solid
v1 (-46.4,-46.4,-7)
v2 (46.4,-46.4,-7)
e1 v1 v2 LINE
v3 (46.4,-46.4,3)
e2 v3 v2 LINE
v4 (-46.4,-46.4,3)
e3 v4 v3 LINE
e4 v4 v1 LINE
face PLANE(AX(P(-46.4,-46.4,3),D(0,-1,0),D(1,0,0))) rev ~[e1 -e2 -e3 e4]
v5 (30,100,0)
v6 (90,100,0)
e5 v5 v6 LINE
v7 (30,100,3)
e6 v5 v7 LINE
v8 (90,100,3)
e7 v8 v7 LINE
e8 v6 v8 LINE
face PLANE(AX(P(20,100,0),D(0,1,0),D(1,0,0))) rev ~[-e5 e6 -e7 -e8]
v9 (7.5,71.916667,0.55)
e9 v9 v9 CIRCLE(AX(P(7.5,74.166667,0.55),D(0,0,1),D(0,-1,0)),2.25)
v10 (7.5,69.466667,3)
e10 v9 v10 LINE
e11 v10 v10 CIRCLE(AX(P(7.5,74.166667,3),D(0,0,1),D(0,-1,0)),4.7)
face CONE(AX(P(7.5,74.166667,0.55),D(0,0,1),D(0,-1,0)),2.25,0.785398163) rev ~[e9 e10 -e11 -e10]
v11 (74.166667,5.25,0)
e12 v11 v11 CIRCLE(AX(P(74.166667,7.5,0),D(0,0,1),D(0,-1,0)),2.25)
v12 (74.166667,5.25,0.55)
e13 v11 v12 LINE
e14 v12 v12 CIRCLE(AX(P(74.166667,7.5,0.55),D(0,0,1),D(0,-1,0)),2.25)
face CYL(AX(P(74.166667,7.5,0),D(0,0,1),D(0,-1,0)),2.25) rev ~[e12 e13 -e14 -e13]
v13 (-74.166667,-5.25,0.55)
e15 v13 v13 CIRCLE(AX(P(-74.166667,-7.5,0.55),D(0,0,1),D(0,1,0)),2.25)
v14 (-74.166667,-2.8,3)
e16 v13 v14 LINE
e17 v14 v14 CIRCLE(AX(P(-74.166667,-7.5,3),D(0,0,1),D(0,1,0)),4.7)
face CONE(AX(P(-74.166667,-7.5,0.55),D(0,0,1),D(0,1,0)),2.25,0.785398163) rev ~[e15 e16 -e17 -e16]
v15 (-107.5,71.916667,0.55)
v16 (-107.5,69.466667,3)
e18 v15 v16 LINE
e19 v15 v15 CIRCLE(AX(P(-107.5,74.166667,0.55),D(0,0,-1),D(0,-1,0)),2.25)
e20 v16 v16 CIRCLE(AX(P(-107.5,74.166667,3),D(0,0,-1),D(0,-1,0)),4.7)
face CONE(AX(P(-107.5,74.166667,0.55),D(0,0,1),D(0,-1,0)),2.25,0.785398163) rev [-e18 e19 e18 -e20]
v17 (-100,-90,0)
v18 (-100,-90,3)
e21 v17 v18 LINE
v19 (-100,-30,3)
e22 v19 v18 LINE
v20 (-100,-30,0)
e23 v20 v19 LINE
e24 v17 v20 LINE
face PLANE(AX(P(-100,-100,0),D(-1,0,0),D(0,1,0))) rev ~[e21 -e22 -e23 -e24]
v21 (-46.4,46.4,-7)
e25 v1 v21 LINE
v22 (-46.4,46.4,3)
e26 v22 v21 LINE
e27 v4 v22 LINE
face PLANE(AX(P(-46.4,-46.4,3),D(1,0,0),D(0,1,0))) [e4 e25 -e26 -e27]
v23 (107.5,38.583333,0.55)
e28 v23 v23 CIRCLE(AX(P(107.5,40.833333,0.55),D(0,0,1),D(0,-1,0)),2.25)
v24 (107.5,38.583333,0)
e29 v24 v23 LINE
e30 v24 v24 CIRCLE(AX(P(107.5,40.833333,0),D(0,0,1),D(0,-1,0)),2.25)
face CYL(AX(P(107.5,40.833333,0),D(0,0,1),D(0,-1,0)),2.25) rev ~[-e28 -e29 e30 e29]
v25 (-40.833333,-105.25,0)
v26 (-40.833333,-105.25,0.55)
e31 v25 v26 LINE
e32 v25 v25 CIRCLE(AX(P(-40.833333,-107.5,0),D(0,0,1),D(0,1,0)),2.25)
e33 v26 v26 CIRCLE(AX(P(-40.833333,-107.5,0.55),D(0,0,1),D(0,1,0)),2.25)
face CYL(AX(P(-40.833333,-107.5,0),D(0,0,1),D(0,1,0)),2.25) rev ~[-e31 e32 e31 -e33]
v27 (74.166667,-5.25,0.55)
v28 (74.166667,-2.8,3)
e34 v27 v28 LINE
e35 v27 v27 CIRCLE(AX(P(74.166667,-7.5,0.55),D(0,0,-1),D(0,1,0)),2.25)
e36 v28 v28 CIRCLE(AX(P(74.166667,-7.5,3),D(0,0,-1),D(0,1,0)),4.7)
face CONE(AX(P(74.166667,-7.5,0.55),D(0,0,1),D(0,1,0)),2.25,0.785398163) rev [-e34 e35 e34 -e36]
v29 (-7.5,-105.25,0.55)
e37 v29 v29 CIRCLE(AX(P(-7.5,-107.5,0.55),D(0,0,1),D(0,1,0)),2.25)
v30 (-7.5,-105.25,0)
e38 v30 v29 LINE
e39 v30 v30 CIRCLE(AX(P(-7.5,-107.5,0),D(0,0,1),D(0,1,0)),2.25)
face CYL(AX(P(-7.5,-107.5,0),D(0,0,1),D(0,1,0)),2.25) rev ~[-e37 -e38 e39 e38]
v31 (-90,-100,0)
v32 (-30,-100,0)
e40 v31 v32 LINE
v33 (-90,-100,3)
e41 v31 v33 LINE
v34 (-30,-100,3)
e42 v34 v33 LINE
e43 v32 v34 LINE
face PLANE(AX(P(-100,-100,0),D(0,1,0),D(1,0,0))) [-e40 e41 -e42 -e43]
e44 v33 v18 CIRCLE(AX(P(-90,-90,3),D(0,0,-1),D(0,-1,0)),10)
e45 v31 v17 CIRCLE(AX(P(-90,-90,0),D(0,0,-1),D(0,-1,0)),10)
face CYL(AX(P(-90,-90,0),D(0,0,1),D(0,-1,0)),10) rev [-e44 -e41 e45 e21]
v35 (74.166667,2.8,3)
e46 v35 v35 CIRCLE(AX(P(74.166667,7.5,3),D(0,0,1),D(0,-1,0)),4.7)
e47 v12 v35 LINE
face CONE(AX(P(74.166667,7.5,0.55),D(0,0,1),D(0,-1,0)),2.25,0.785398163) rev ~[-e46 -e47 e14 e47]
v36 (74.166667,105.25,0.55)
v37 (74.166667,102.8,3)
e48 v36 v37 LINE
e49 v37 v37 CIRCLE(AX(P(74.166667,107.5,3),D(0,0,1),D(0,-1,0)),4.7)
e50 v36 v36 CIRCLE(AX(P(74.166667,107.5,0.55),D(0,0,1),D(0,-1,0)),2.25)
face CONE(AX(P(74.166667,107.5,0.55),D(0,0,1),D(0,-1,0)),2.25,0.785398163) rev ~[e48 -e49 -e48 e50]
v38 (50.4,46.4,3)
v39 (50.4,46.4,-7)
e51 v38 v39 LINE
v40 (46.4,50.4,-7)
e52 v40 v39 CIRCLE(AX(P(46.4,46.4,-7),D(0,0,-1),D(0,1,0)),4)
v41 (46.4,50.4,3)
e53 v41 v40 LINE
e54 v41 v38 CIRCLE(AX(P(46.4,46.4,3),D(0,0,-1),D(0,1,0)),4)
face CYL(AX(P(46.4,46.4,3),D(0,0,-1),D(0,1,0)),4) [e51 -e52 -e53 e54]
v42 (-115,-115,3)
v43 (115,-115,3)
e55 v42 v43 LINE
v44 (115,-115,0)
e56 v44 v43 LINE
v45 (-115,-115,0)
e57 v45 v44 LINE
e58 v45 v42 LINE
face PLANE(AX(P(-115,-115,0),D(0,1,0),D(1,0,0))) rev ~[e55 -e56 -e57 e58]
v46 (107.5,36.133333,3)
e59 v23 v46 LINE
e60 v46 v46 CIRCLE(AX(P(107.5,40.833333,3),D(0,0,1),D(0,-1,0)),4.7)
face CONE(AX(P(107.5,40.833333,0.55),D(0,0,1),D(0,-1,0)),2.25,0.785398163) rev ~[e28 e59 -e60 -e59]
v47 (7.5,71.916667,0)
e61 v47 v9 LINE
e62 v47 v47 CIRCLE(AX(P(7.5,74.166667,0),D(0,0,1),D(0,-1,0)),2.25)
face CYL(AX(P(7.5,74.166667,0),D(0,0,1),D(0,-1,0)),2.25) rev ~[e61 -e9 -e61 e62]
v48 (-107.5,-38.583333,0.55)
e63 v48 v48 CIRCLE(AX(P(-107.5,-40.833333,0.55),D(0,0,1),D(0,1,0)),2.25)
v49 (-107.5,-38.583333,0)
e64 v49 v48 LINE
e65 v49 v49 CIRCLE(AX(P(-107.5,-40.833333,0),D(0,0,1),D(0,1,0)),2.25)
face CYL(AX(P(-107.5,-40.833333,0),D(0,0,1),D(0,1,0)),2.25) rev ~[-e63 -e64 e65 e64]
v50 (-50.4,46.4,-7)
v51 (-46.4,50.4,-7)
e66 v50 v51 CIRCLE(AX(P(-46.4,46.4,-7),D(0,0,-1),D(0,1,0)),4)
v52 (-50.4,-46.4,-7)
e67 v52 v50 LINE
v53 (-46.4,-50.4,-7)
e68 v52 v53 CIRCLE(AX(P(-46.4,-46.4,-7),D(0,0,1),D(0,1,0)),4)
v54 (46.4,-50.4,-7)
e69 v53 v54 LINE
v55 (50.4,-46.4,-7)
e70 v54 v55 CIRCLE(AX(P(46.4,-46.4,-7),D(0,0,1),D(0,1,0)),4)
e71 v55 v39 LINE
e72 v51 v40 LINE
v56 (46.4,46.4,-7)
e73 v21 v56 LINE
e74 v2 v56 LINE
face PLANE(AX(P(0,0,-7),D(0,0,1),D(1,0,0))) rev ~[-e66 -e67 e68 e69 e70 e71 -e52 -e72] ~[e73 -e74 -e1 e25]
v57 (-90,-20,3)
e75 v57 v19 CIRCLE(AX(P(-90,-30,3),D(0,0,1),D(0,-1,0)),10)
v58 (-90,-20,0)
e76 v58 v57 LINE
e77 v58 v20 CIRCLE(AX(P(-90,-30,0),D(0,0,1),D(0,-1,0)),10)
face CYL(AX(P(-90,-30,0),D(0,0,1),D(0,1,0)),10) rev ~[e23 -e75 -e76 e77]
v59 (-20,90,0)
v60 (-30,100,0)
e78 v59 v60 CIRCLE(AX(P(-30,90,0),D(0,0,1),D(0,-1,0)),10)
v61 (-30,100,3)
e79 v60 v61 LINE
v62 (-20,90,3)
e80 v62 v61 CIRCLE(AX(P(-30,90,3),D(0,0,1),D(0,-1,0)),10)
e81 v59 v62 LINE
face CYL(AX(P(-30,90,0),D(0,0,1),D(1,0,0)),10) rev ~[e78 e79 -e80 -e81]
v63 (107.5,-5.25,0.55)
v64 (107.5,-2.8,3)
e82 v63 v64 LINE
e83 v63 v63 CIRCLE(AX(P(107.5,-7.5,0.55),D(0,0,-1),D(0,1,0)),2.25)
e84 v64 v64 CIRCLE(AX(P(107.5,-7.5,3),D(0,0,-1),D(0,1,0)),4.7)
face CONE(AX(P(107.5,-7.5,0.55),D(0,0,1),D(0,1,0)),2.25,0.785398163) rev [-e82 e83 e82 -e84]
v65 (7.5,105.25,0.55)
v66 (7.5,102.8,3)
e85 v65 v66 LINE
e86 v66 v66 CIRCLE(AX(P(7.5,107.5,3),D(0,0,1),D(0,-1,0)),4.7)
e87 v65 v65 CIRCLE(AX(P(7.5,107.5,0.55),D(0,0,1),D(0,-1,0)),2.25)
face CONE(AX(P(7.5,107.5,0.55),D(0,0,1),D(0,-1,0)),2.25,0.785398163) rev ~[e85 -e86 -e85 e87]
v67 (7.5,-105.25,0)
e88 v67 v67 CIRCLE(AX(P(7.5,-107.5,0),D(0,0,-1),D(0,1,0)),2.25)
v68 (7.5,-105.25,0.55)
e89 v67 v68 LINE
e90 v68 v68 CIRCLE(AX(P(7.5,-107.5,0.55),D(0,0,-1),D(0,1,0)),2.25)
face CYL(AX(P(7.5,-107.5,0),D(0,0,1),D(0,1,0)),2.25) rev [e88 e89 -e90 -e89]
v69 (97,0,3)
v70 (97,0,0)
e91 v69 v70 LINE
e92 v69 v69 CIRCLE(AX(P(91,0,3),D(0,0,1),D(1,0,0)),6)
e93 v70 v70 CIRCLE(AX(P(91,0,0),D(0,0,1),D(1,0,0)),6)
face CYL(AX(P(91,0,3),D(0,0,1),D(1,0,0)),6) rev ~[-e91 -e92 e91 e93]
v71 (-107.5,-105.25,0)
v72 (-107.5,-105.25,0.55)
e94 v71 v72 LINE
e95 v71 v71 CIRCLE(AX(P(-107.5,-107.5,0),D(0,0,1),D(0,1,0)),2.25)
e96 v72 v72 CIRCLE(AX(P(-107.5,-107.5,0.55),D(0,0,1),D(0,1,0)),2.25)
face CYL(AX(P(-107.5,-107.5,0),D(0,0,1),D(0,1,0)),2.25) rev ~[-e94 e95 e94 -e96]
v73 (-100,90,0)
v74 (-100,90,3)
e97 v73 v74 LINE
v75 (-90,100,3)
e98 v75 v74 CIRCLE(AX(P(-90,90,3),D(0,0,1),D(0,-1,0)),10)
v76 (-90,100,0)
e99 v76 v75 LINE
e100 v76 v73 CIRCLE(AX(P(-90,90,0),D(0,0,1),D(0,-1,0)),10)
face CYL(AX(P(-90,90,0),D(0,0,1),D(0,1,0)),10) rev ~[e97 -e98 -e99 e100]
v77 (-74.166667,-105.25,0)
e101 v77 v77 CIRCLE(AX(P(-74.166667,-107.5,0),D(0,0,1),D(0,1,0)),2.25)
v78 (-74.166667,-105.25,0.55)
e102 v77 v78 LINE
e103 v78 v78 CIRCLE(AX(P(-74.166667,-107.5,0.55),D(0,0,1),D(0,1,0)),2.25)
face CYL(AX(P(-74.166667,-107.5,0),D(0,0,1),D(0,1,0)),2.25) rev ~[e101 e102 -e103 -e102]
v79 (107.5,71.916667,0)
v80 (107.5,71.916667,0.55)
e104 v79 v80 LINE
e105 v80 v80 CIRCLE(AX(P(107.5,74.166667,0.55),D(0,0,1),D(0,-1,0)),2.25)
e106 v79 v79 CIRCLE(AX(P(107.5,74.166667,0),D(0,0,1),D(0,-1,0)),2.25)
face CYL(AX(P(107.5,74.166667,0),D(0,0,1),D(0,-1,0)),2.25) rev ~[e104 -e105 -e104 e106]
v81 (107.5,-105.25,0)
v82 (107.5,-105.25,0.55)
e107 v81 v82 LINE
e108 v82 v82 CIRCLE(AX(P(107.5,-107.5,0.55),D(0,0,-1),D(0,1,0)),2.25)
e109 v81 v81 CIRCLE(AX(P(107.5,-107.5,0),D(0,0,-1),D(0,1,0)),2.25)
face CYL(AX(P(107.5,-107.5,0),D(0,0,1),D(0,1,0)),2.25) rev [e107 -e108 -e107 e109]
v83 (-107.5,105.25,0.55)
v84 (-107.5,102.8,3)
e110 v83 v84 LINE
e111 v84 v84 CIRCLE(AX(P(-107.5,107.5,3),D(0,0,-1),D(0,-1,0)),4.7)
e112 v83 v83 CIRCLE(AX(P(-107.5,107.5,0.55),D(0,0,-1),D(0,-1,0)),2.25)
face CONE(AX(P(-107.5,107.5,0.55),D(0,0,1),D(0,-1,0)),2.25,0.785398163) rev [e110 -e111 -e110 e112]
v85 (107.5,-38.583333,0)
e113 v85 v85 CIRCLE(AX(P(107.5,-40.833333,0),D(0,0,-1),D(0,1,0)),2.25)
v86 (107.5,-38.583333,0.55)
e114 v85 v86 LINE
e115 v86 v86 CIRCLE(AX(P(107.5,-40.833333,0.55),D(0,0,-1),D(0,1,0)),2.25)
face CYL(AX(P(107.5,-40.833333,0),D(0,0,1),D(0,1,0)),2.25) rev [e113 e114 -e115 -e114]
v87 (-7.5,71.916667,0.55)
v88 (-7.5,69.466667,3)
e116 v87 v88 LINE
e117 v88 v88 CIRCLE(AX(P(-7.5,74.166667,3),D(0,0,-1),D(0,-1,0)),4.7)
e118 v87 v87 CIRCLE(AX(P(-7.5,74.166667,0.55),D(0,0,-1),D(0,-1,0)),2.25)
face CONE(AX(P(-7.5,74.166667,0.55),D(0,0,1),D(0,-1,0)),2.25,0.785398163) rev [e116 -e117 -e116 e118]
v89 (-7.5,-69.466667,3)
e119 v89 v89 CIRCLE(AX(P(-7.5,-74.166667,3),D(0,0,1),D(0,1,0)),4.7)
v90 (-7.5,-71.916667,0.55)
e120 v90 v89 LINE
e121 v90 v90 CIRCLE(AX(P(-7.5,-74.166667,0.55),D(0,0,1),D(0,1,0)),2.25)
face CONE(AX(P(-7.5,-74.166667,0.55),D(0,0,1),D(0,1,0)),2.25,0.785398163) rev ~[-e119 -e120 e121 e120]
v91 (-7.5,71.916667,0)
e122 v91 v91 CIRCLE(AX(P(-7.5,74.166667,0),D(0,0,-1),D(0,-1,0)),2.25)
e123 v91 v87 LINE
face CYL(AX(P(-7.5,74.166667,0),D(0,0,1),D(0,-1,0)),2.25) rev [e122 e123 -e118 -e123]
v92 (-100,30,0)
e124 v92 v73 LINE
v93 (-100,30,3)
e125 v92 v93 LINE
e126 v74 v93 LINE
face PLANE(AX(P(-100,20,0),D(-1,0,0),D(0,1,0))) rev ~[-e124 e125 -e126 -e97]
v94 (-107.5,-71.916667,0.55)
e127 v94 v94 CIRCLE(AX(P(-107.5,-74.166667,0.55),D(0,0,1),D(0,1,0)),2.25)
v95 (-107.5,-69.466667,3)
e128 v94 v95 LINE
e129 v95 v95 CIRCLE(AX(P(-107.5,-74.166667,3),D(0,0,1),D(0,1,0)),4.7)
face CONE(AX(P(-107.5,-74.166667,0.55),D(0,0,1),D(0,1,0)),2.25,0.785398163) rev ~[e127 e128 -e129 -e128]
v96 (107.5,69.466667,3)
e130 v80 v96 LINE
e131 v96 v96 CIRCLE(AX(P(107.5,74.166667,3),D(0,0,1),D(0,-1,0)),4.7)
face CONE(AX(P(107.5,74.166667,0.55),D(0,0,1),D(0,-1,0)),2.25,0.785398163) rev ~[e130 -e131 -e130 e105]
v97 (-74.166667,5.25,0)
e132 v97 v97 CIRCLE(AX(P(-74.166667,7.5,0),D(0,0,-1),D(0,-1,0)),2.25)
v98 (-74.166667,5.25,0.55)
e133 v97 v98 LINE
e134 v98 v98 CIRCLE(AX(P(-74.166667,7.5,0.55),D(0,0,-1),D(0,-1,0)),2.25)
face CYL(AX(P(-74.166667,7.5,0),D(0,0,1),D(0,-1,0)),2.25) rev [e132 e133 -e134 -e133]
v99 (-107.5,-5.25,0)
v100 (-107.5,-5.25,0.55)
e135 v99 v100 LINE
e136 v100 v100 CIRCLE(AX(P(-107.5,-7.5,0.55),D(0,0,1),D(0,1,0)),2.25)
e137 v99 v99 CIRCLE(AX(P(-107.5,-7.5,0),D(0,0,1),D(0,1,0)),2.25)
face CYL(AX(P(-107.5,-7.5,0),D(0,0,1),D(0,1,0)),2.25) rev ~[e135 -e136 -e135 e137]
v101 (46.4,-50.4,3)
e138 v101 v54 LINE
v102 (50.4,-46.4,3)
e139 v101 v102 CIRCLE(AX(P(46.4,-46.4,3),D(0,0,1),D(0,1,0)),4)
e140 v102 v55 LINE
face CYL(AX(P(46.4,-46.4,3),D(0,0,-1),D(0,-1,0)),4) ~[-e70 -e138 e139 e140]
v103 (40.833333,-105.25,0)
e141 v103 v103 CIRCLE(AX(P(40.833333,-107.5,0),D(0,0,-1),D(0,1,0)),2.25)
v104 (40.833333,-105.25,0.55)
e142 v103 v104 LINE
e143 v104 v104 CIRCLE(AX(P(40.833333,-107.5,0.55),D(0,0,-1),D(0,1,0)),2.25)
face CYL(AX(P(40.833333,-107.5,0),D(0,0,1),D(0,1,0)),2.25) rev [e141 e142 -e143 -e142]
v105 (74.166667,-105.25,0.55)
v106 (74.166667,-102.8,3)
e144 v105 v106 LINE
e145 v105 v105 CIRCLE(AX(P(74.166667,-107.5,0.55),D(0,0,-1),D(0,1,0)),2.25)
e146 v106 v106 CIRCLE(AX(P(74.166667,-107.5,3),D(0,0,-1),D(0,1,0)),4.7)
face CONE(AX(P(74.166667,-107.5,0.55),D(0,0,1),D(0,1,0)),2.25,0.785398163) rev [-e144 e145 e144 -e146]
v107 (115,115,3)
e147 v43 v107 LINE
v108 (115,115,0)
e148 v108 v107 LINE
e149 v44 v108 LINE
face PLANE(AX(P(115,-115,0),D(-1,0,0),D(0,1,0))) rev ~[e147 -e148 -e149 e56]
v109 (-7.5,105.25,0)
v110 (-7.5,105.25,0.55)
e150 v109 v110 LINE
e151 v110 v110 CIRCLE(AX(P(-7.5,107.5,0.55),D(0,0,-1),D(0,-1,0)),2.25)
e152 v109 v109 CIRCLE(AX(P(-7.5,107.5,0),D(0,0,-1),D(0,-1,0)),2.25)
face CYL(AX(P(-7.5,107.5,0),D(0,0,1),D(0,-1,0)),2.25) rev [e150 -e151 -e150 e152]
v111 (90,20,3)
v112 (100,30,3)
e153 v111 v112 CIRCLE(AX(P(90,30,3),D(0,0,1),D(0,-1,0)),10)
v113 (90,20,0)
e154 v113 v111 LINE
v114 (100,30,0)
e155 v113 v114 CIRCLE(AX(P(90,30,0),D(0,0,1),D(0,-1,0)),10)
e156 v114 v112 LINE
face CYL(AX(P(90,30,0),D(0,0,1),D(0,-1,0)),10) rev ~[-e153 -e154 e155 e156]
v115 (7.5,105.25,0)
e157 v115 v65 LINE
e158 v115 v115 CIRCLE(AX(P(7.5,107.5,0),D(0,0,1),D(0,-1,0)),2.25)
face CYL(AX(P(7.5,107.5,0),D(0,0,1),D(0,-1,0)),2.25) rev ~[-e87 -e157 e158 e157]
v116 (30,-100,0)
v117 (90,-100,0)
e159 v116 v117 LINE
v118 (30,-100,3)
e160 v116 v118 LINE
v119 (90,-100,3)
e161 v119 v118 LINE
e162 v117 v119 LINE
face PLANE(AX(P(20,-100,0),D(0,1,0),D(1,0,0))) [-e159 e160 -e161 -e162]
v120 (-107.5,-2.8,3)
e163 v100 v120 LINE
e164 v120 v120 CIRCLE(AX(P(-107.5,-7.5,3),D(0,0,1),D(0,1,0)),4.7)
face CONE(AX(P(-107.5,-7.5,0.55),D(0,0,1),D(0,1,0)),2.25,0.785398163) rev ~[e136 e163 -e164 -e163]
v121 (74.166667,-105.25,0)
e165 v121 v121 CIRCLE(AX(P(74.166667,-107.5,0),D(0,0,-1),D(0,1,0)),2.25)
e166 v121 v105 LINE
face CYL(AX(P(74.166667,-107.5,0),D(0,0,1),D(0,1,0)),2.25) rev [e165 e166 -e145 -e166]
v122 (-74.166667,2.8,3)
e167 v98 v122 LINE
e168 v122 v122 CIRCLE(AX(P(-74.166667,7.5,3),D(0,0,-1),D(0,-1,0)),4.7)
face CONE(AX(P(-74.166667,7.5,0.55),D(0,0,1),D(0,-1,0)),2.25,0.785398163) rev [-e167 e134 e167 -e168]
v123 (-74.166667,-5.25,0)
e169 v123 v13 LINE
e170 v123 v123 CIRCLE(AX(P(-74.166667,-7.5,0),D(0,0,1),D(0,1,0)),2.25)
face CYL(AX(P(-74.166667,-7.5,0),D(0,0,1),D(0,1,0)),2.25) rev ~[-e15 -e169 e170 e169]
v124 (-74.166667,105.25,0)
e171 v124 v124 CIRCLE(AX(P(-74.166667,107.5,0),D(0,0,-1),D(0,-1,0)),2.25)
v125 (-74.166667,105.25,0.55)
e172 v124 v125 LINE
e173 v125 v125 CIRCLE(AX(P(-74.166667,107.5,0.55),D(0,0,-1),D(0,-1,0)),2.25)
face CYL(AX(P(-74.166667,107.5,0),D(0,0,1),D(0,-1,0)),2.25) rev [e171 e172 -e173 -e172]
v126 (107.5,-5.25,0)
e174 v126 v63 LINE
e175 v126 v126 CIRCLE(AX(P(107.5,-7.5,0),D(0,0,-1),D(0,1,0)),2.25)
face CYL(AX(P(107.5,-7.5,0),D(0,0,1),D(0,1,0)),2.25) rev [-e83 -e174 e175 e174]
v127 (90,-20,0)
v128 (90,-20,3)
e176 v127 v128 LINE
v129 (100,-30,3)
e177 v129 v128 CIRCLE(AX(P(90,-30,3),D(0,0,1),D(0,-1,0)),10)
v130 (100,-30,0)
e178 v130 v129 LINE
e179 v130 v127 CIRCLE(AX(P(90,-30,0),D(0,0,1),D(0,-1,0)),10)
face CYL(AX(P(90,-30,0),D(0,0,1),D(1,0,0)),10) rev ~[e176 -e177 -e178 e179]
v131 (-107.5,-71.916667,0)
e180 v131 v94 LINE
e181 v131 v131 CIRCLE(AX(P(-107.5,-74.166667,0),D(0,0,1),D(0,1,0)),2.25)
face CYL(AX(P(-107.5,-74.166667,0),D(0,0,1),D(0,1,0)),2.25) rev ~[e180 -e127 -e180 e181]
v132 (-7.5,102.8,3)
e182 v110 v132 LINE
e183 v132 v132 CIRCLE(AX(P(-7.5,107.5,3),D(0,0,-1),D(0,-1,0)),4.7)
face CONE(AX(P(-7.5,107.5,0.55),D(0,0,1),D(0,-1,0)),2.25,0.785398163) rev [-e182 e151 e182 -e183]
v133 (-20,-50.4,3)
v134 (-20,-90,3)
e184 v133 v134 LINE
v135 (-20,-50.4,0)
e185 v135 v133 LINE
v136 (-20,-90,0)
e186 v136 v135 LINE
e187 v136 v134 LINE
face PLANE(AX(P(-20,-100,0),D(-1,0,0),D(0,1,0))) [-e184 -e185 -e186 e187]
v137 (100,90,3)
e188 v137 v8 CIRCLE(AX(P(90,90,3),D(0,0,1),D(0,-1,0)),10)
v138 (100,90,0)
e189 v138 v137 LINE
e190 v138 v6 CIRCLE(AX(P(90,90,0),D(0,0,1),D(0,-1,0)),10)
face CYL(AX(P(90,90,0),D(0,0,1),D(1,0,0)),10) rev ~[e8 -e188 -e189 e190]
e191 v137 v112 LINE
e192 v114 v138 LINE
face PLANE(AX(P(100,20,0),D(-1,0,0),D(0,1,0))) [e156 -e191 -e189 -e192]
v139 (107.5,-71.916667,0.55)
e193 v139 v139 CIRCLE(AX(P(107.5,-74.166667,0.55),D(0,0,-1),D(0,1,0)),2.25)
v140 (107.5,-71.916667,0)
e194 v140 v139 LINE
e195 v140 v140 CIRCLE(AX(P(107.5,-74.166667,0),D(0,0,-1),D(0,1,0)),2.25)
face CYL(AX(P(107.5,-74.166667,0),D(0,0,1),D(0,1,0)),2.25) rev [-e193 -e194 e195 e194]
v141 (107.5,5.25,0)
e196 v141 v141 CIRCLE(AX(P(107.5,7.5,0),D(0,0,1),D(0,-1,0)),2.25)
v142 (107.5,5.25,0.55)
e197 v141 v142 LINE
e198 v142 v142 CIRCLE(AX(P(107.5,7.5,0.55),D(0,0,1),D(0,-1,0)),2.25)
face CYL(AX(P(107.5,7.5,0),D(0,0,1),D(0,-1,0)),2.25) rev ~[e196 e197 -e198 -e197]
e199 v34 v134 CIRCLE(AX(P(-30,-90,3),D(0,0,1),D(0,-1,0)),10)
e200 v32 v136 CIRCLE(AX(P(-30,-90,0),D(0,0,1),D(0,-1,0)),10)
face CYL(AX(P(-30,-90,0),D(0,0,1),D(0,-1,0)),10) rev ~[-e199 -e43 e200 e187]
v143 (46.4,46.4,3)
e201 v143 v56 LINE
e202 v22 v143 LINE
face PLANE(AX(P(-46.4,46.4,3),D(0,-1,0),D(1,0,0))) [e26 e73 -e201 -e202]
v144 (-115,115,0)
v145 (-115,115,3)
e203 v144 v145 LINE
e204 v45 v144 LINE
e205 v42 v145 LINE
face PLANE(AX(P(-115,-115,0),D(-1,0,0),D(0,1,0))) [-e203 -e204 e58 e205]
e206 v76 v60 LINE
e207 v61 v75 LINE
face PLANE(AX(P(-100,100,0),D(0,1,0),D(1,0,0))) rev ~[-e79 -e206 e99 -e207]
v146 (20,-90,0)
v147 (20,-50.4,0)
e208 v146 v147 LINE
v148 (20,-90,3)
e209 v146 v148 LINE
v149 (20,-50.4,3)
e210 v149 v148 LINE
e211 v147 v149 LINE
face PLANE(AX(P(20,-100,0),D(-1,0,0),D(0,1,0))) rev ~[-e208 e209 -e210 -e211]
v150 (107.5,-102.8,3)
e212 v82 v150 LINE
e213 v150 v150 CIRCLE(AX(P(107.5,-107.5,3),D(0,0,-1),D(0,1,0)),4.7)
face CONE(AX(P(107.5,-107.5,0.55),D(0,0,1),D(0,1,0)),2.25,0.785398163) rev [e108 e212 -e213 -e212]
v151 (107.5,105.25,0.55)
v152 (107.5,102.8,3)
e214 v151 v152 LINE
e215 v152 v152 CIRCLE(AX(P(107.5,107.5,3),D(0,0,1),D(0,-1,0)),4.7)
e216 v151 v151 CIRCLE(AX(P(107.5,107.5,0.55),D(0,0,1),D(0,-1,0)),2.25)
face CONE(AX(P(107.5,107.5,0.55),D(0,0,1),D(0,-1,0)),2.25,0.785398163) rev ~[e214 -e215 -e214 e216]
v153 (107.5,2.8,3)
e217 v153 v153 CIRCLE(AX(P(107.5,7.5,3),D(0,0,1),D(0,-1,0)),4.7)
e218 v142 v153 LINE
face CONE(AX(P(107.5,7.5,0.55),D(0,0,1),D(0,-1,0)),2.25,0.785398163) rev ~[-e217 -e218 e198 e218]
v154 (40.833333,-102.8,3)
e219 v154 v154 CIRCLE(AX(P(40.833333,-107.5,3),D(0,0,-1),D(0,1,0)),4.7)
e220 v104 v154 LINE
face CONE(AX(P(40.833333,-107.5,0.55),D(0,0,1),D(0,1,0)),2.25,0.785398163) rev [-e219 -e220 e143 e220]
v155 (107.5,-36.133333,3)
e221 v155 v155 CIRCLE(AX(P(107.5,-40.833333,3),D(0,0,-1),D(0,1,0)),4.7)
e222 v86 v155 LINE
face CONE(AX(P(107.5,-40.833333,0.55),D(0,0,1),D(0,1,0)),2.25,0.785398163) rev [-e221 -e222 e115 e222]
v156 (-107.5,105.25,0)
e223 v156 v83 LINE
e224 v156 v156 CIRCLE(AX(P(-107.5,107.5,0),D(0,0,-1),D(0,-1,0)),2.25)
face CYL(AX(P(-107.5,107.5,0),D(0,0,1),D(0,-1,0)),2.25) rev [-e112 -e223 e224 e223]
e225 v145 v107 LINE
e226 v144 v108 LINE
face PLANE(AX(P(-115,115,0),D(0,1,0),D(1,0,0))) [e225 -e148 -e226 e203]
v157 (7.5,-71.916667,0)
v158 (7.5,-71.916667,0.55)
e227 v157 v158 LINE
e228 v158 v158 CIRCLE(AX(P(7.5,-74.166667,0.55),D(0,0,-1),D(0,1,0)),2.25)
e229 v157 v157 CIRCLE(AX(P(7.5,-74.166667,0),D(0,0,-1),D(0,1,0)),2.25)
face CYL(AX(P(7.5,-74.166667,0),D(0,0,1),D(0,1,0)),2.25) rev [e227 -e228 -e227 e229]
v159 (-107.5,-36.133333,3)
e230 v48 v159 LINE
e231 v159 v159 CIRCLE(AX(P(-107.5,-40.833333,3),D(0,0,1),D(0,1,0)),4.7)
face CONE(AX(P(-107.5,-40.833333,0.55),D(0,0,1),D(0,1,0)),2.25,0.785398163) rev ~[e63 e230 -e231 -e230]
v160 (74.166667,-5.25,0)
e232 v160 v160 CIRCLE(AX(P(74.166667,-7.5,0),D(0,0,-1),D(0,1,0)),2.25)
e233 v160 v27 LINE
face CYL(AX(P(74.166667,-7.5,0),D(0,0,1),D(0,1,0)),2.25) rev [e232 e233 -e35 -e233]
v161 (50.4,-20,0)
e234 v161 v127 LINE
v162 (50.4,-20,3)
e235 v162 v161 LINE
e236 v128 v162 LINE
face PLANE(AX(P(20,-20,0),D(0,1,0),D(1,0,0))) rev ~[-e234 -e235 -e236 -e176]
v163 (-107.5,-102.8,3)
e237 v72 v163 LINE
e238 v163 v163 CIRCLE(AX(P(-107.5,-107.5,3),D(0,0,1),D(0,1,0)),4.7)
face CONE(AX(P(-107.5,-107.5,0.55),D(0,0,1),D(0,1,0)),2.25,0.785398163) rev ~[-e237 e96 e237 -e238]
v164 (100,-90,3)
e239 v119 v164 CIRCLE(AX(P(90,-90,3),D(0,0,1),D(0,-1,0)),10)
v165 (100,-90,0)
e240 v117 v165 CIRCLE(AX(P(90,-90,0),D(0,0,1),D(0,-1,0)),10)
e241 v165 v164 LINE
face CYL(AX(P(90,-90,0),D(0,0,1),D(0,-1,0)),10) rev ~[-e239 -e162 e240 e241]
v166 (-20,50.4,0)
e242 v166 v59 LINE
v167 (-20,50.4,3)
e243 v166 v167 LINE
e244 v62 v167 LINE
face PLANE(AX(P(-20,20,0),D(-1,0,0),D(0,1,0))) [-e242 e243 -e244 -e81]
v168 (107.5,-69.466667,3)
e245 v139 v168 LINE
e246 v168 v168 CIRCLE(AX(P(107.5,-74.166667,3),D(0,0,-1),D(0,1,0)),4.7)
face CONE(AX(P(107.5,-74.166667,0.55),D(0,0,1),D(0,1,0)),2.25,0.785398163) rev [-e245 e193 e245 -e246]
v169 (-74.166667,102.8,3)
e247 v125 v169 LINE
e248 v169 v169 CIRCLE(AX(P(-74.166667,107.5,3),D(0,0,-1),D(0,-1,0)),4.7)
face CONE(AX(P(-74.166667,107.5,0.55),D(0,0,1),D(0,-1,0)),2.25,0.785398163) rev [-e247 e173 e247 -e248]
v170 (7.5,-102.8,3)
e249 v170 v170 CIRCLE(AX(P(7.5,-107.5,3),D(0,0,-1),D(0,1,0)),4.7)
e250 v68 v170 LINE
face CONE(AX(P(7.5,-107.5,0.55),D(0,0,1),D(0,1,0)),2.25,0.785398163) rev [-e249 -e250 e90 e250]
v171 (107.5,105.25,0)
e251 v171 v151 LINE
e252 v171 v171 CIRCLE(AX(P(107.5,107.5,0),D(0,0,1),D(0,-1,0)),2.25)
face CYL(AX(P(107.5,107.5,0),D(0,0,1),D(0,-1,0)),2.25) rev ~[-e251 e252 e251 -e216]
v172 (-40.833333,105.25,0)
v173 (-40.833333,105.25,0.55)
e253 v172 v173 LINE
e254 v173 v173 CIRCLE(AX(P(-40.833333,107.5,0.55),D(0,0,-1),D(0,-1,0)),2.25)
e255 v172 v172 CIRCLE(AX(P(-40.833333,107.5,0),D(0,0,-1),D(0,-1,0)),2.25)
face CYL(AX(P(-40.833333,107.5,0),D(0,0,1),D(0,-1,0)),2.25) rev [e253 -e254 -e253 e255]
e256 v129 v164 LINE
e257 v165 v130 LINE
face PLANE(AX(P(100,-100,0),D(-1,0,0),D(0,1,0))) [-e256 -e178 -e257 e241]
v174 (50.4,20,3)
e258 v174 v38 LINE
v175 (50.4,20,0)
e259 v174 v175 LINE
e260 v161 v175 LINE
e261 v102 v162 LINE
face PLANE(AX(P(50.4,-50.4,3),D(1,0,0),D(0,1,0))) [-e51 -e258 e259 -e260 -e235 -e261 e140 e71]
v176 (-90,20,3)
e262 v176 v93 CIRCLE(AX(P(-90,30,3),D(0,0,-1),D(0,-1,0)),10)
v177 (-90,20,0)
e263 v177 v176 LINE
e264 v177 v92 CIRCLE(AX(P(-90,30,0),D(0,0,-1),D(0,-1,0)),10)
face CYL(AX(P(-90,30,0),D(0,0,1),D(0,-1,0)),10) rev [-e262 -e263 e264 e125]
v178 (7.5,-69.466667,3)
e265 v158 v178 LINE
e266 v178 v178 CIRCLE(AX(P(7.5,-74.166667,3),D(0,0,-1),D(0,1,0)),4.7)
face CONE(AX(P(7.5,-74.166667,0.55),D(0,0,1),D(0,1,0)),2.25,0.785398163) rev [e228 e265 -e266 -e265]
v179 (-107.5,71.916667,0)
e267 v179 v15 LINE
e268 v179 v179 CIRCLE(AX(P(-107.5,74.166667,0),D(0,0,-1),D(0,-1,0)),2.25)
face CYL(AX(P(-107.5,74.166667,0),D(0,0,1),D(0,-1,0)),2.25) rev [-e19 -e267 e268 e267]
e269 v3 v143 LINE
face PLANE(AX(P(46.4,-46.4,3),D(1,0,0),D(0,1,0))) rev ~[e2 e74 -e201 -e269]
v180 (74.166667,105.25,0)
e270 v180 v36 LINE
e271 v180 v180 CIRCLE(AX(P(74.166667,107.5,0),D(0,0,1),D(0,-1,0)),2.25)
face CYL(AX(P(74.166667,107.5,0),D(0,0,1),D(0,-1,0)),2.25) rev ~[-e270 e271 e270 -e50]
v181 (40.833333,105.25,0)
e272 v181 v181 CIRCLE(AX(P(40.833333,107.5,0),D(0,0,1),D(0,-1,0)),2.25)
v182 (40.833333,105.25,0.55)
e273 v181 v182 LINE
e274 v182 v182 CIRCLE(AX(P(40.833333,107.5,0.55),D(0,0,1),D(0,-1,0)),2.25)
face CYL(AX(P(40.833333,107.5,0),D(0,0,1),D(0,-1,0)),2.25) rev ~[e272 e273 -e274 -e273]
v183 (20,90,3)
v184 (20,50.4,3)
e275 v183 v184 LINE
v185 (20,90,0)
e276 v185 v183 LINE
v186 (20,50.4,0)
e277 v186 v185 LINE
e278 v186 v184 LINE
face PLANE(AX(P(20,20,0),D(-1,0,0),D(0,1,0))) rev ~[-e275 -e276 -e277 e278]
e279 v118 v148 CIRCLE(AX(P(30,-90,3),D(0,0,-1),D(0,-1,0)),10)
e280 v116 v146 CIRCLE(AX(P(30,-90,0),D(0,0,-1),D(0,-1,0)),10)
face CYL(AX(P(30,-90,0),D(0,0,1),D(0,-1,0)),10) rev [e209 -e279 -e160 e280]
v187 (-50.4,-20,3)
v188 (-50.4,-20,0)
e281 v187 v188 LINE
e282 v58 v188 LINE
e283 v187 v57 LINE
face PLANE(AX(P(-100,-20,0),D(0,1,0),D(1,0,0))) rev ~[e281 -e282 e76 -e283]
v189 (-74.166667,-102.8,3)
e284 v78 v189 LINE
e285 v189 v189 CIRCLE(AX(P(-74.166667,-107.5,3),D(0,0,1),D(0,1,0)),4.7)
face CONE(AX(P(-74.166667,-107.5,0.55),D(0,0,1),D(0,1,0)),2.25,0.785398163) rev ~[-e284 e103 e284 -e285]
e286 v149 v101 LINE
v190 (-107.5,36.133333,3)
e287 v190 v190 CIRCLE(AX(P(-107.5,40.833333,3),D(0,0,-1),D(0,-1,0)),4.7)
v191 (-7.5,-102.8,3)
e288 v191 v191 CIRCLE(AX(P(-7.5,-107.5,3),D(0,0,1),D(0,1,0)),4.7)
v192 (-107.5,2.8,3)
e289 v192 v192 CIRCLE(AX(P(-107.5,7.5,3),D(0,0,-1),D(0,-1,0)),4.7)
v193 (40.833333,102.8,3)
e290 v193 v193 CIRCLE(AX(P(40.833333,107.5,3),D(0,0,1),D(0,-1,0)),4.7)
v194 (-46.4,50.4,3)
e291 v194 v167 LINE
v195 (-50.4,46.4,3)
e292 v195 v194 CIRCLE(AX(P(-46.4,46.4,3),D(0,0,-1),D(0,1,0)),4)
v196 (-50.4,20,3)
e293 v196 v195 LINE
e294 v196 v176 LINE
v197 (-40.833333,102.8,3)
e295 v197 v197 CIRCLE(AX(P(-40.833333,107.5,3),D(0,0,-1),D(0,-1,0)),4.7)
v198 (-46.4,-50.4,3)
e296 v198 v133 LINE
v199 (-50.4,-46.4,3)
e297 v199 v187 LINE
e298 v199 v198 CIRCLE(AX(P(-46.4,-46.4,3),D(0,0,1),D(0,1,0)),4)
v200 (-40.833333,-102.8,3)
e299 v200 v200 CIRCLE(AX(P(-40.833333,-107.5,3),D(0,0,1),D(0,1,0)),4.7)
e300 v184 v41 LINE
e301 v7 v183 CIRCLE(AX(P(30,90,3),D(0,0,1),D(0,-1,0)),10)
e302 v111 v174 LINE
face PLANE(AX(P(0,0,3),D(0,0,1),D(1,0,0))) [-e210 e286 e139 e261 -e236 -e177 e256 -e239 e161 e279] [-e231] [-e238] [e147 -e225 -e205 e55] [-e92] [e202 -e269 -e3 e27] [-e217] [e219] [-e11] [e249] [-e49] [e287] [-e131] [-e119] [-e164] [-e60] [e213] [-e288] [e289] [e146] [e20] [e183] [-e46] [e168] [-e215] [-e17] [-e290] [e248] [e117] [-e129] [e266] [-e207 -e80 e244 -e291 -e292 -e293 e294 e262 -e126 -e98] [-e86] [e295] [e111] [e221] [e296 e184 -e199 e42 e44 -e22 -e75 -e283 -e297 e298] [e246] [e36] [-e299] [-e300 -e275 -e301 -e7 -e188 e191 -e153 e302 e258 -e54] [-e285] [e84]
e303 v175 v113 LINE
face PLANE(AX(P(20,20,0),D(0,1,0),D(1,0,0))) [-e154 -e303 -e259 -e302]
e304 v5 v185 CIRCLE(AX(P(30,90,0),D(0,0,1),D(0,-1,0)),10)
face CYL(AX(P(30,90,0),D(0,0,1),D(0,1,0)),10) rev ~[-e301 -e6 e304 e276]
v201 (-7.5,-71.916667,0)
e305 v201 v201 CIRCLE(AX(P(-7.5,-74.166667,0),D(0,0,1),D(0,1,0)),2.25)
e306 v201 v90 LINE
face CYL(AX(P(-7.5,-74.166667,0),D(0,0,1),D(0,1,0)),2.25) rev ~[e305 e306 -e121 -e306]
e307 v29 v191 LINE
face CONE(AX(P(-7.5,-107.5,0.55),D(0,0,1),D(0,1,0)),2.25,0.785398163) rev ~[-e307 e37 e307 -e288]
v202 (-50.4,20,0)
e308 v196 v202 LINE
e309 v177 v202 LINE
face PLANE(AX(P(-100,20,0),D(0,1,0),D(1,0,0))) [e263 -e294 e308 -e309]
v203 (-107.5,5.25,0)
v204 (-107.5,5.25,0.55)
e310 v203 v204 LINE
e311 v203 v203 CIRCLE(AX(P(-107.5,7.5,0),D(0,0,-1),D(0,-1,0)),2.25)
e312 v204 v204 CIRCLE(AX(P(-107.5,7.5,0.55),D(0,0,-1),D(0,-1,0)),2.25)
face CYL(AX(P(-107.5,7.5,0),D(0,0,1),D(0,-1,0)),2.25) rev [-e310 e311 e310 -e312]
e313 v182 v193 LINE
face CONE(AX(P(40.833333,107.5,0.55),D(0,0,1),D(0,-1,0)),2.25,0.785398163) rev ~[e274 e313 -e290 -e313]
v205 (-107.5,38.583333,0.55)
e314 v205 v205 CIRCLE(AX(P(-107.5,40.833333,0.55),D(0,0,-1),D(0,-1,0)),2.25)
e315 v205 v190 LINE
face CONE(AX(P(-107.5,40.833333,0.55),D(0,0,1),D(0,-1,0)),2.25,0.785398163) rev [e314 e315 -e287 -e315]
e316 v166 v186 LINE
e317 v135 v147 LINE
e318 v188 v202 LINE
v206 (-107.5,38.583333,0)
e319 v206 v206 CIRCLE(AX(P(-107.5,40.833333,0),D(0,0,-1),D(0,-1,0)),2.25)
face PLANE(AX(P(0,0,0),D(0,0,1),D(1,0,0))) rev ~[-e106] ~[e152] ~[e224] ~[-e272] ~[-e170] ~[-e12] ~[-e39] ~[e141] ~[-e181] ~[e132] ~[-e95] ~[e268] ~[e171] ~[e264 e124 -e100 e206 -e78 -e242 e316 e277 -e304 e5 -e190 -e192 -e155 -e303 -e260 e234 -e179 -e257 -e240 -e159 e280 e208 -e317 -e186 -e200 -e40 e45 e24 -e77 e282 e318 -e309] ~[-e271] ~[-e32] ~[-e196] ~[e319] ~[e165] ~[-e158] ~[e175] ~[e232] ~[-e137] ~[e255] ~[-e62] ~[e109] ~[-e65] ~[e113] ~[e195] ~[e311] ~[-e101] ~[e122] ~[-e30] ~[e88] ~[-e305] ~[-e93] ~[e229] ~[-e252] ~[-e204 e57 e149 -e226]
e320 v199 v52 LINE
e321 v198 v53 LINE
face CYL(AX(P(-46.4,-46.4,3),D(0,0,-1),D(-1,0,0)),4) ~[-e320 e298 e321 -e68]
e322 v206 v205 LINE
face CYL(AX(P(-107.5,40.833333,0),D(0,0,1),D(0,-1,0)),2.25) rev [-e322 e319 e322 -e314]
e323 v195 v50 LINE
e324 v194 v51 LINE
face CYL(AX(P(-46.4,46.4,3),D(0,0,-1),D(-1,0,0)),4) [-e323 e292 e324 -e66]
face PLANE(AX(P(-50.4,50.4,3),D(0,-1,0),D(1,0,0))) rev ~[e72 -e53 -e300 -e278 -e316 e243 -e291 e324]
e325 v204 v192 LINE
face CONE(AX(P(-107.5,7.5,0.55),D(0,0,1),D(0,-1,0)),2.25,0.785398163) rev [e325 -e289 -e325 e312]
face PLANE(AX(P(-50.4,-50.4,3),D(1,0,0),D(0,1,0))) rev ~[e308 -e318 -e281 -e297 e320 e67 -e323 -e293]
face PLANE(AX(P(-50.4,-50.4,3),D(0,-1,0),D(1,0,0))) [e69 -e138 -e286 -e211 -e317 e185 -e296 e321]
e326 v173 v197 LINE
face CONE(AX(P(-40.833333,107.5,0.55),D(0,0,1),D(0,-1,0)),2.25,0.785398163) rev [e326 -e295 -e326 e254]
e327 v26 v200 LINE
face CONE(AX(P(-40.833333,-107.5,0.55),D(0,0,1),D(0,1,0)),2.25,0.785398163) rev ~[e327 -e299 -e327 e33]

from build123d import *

# Parameters (mm, degrees)
SKETCH1_W              = 230
SKETCH1_H              = 230
BOSS_EXTRUDE1_DEPTH    = 3
SKETCH2_W              = 80
SKETCH2_H              = 80
CUT_EXTRUDE2_DEPTH     = 4
FILLET1_R              = 10
LPATTERN2_COUNT        = 2
LPATTERN2_PITCH        = 120
LPATTERN2_COUNT_DIR2   = 2
LPATTERN2_PITCH_DIR2   = 120
FILLET1_OF_LPATTERN2_R = 10
LPATTERN8_COUNT        = 4
LPATTERN8_PITCH        = 33.333333333
LPATTERN8_COUNT_DIR2   = 4
LPATTERN8_PITCH_DIR2   = 33.333333333
CUT_EXTRUDE3_REACH     = 5
SKETCH14_W             = 98
SKETCH14_H             = 98
SKETCH15_W             = 100.8
SKETCH15_H             = 100.8
SKETCH15_W_2           = 92.8
SKETCH15_H_2           = 92.8
BOSS_EXTRUDE2_DEPTH    = 10
FILLET2_R              = 4
CUT_EXTRUDE4_REACH     = 12
SKETCH16_R             = 6


with BuildPart() as part:
    # Sketch1 → Boss-Extrude1 (new body)
    with BuildSketch(Plane.XY):
        Rectangle(SKETCH1_W, SKETCH1_H)
    extrude(amount=BOSS_EXTRUDE1_DEPTH)

    # Sketch2 → Cut-Extrude2 (cut, through all)
    with BuildSketch(Plane.XY):
        with Locations((-60, 60)):
            Rectangle(SKETCH2_W, SKETCH2_H)
    cut_extrude2 = extrude(amount=CUT_EXTRUDE2_DEPTH, mode=Mode.SUBTRACT)

    # Fillet1
    fillet1_edges = [part.edges().sort_by_distance(p)[0] for p in [
        (-20, 20, 1.5),
        (-20, 100, 1.5),
        (-100, 100, 1.5),
        (-100, 20, 1.5),
    ]]
    fillet(fillet1_edges, radius=FILLET1_R)

    # LPattern2: Cut-Extrude2 2 × 2
    with Locations(*[(j * LPATTERN2_PITCH_DIR2, -i * LPATTERN2_PITCH, 0) for i in range(LPATTERN2_COUNT) for j in range(LPATTERN2_COUNT_DIR2) if (i, j) != (0, 0)]):
        add(cut_extrude2, mode=Mode.SUBTRACT)

    # Fillet1 of LPattern2
    fillet1_of_lpattern2_edges = [part.edges().sort_by_distance(p)[0] for p in [
        (100, 20, 1.5),
        (100, 100, 1.5),
        (20, 100, 1.5),
        (20, 20, 1.5),
        (-20, -100, 1.5),
        (-20, -20, 1.5),
        (-100, -20, 1.5),
        (-100, -100, 1.5),
        (100, -100, 1.5),
        (100, -20, 1.5),
        (20, -20, 1.5),
        (20, -100, 1.5),
    ]]
    fillet(fillet1_of_lpattern2_edges, radius=FILLET1_OF_LPATTERN2_R)

    # Sketch12 → CSK for M4 Flat Head Machine Screw4 (revolve, cut)
    with BuildSketch(Plane(origin=(-107.5, 107.5, 3), x_dir=(0, -1, 0), z_dir=(1, 0, 0))):
        Polygon((0, 0), (0, 3), (2.25, 3), (2.25, 2.45), (4.7, 0), align=None)
    csk_for_m4_flat_head_machine_screw4 = revolve(axis=Axis((-107.5, 107.5, 9.35), (0, 0, -1)), mode=Mode.SUBTRACT)

    # LPattern8: CSK for M4 Flat Head Machine Screw4 4 × 4, 4 skipped
    with Locations(*[(i * LPATTERN8_PITCH, -j * LPATTERN8_PITCH_DIR2, 0) for i in range(LPATTERN8_COUNT) for j in range(LPATTERN8_COUNT_DIR2) if (i, j) not in ((0, 0), (1, 1), (1, 2), (2, 1), (2, 2))]):
        add(csk_for_m4_flat_head_machine_screw4, mode=Mode.SUBTRACT)

    # Mirror1: CSK for M4 Flat Head Machine Screw4 across plane
    add(csk_for_m4_flat_head_machine_screw4.mirror(Plane(origin=(0, 0, 0), x_dir=(0, 0, 1), z_dir=(1, 0, 0))), mode=Mode.SUBTRACT)

    # Mirror1 copy 1 sketch → Mirror1 copy 1 (revolve, cut)
    with BuildSketch(Plane(origin=(107.5, 74.166666667, 3), x_dir=(0, -1, 0), z_dir=(-1, 0, 0))):
        Polygon((0, 0), (0, -3), (2.25, -3), (2.25, -2.45), (4.7, 0), align=None)
    revolve(axis=Axis((107.5, 74.166666667, 9.35), (0, 0, 1)), mode=Mode.SUBTRACT)

    # Mirror1 copy 2 sketch → Mirror1 copy 2 (revolve, cut)
    with BuildSketch(Plane(origin=(107.5, 40.833333333, 3), x_dir=(0, -1, 0), z_dir=(-1, 0, 0))):
        Polygon((0, 0), (0, -3), (2.25, -3), (2.25, -2.45), (4.7, 0), align=None)
    revolve(axis=Axis((107.5, 40.833333333, 9.35), (0, 0, 1)), mode=Mode.SUBTRACT)

    # Mirror1 copy 3 sketch → Mirror1 copy 3 (revolve, cut)
    with BuildSketch(Plane(origin=(107.5, 7.5, 3), x_dir=(0, -1, 0), z_dir=(-1, 0, 0))):
        Polygon((0, 0), (0, -3), (2.25, -3), (2.25, -2.45), (4.7, 0), align=None)
    revolve(axis=Axis((107.5, 7.5, 9.35), (0, 0, 1)), mode=Mode.SUBTRACT)

    # Mirror1 copy 4 sketch → Mirror1 copy 4 (revolve, cut)
    with BuildSketch(Plane(origin=(74.166666667, 107.5, 3), x_dir=(0, -1, 0), z_dir=(-1, 0, 0))):
        Polygon((0, 0), (0, -3), (2.25, -3), (2.25, -2.45), (4.7, 0), align=None)
    revolve(axis=Axis((74.166666667, 107.5, 9.35), (0, 0, 1)), mode=Mode.SUBTRACT)

    # Mirror1 copy 5 sketch → Mirror1 copy 5 (revolve, cut)
    with BuildSketch(Plane(origin=(74.166666667, 7.5, 3), x_dir=(0, -1, 0), z_dir=(-1, 0, 0))):
        Polygon((0, 0), (0, -3), (2.25, -3), (2.25, -2.45), (4.7, 0), align=None)
    revolve(axis=Axis((74.166666667, 7.5, 9.35), (0, 0, 1)), mode=Mode.SUBTRACT)

    # Mirror1 copy 6 sketch → Mirror1 copy 6 (revolve, cut)
    with BuildSketch(Plane(origin=(40.833333333, 107.5, 3), x_dir=(0, -1, 0), z_dir=(-1, 0, 0))):
        Polygon((0, 0), (0, -3), (2.25, -3), (2.25, -2.45), (4.7, 0), align=None)
    revolve(axis=Axis((40.833333333, 107.5, 9.35), (0, 0, 1)), mode=Mode.SUBTRACT)

    # Mirror1 copy 7 sketch → Mirror1 copy 7 (revolve, cut)
    with BuildSketch(Plane(origin=(40.833333333, 7.5, 3), x_dir=(0, -1, 0), z_dir=(-1, 0, 0))):
        Polygon((0, 0), (0, -3), (2.25, -3), (2.25, -2.45), (4.7, 0), align=None)
    revolve(axis=Axis((40.833333333, 7.5, 9.35), (0, 0, 1)), mode=Mode.SUBTRACT)

    # Mirror1 copy 8 sketch → Mirror1 copy 8 (revolve, cut)
    with BuildSketch(Plane(origin=(7.5, 107.5, 3), x_dir=(0, -1, 0), z_dir=(-1, 0, 0))):
        Polygon((0, 0), (0, -3), (2.25, -3), (2.25, -2.45), (4.7, 0), align=None)
    revolve(axis=Axis((7.5, 107.5, 9.35), (0, 0, 1)), mode=Mode.SUBTRACT)

    # Mirror1 copy 9 sketch → Mirror1 copy 9 (revolve, cut)
    with BuildSketch(Plane(origin=(7.5, 74.166666667, 3), x_dir=(0, -1, 0), z_dir=(-1, 0, 0))):
        Polygon((0, 0), (0, -3), (2.25, -3), (2.25, -2.45), (4.7, 0), align=None)
    revolve(axis=Axis((7.5, 74.166666667, 9.35), (0, 0, 1)), mode=Mode.SUBTRACT)

    # Mirror1 copy 10 sketch → Mirror1 copy 10 (revolve, cut)
    with BuildSketch(Plane(origin=(7.5, 40.833333333, 3), x_dir=(0, -1, 0), z_dir=(-1, 0, 0))):
        Polygon((0, 0), (0, -3), (2.25, -3), (2.25, -2.45), (4.7, 0), align=None)
    revolve(axis=Axis((7.5, 40.833333333, 9.35), (0, 0, 1)), mode=Mode.SUBTRACT)

    # Mirror1 copy 11 sketch → Mirror1 copy 11 (revolve, cut)
    with BuildSketch(Plane(origin=(7.5, 7.5, 3), x_dir=(0, -1, 0), z_dir=(-1, 0, 0))):
        Polygon((0, 0), (0, -3), (2.25, -3), (2.25, -2.45), (4.7, 0), align=None)
    revolve(axis=Axis((7.5, 7.5, 9.35), (0, 0, 1)), mode=Mode.SUBTRACT)

    # Mirror1 at the second plane: CSK for M4 Flat Head Machine Screw4 across plane
    add(csk_for_m4_flat_head_machine_screw4.mirror(Plane.ZX), mode=Mode.SUBTRACT)

    # Mirror1 at the second plane copy 1 sketc → Mirror1 at the second plane copy 1 (revolve, cut)
    with BuildSketch(Plane(origin=(-107.5, -74.166666667, 3), x_dir=(0, 1, 0), z_dir=(1, 0, 0))):
        Polygon((0, 0), (0, -3), (2.25, -3), (2.25, -2.45), (4.7, 0), align=None)
    revolve(axis=Axis((-107.5, -74.166666667, 9.35), (0, 0, 1)), mode=Mode.SUBTRACT)

    # Mirror1 at the second plane copy 2 sketc → Mirror1 at the second plane copy 2 (revolve, cut)
    with BuildSketch(Plane(origin=(-107.5, -40.833333333, 3), x_dir=(0, 1, 0), z_dir=(1, 0, 0))):
        Polygon((0, 0), (0, -3), (2.25, -3), (2.25, -2.45), (4.7, 0), align=None)
    revolve(axis=Axis((-107.5, -40.833333333, 9.35), (0, 0, 1)), mode=Mode.SUBTRACT)

    # Mirror1 at the second plane copy 3 sketc → Mirror1 at the second plane copy 3 (revolve, cut)
    with BuildSketch(Plane(origin=(-107.5, -7.5, 3), x_dir=(0, 1, 0), z_dir=(1, 0, 0))):
        Polygon((0, 0), (0, -3), (2.25, -3), (2.25, -2.45), (4.7, 0), align=None)
    revolve(axis=Axis((-107.5, -7.5, 9.35), (0, 0, 1)), mode=Mode.SUBTRACT)

    # Mirror1 at the second plane copy 4 sketc → Mirror1 at the second plane copy 4 (revolve, cut)
    with BuildSketch(Plane(origin=(-74.166666667, -107.5, 3), x_dir=(0, 1, 0), z_dir=(1, 0, 0))):
        Polygon((0, 0), (0, -3), (2.25, -3), (2.25, -2.45), (4.7, 0), align=None)
    revolve(axis=Axis((-74.166666667, -107.5, 9.35), (0, 0, 1)), mode=Mode.SUBTRACT)

    # Mirror1 at the second plane copy 5 sketc → Mirror1 at the second plane copy 5 (revolve, cut)
    with BuildSketch(Plane(origin=(-74.166666667, -7.5, 3), x_dir=(0, 1, 0), z_dir=(1, 0, 0))):
        Polygon((0, 0), (0, -3), (2.25, -3), (2.25, -2.45), (4.7, 0), align=None)
    revolve(axis=Axis((-74.166666667, -7.5, 9.35), (0, 0, 1)), mode=Mode.SUBTRACT)

    # Mirror1 at the second plane copy 6 sketc → Mirror1 at the second plane copy 6 (revolve, cut)
    with BuildSketch(Plane(origin=(-40.833333333, -107.5, 3), x_dir=(0, 1, 0), z_dir=(1, 0, 0))):
        Polygon((0, 0), (0, -3), (2.25, -3), (2.25, -2.45), (4.7, 0), align=None)
    revolve(axis=Axis((-40.833333333, -107.5, 9.35), (0, 0, 1)), mode=Mode.SUBTRACT)

    # Mirror1 at the second plane copy 7 sketc → Mirror1 at the second plane copy 7 (revolve, cut)
    with BuildSketch(Plane(origin=(-40.833333333, -7.5, 3), x_dir=(0, 1, 0), z_dir=(1, 0, 0))):
        Polygon((0, 0), (0, -3), (2.25, -3), (2.25, -2.45), (4.7, 0), align=None)
    revolve(axis=Axis((-40.833333333, -7.5, 9.35), (0, 0, 1)), mode=Mode.SUBTRACT)

    # Mirror1 at the second plane copy 8 sketc → Mirror1 at the second plane copy 8 (revolve, cut)
    with BuildSketch(Plane(origin=(-7.5, -107.5, 3), x_dir=(0, 1, 0), z_dir=(1, 0, 0))):
        Polygon((0, 0), (0, -3), (2.25, -3), (2.25, -2.45), (4.7, 0), align=None)
    revolve(axis=Axis((-7.5, -107.5, 9.35), (0, 0, 1)), mode=Mode.SUBTRACT)

    # Mirror1 at the second plane copy 9 sketc → Mirror1 at the second plane copy 9 (revolve, cut)
    with BuildSketch(Plane(origin=(-7.5, -74.166666667, 3), x_dir=(0, 1, 0), z_dir=(1, 0, 0))):
        Polygon((0, 0), (0, -3), (2.25, -3), (2.25, -2.45), (4.7, 0), align=None)
    revolve(axis=Axis((-7.5, -74.166666667, 9.35), (0, 0, 1)), mode=Mode.SUBTRACT)

    # Mirror1 at the second plane copy 10 sket → Mirror1 at the second plane copy 10 (revolve, cut)
    with BuildSketch(Plane(origin=(-7.5, -40.833333333, 3), x_dir=(0, 1, 0), z_dir=(1, 0, 0))):
        Polygon((0, 0), (0, -3), (2.25, -3), (2.25, -2.45), (4.7, 0), align=None)
    revolve(axis=Axis((-7.5, -40.833333333, 9.35), (0, 0, 1)), mode=Mode.SUBTRACT)

    # Mirror1 at the second plane copy 11 sket → Mirror1 at the second plane copy 11 (revolve, cut)
    with BuildSketch(Plane(origin=(-7.5, -7.5, 3), x_dir=(0, 1, 0), z_dir=(1, 0, 0))):
        Polygon((0, 0), (0, -3), (2.25, -3), (2.25, -2.45), (4.7, 0), align=None)
    revolve(axis=Axis((-7.5, -7.5, 9.35), (0, 0, 1)), mode=Mode.SUBTRACT)

    # Mirror1 at the second plane copy 12 sket → Mirror1 at the second plane copy 12 (revolve, cut)
    with BuildSketch(Plane(origin=(107.5, -107.5, 3), x_dir=(0, 1, 0), z_dir=(-1, 0, 0))):
        Polygon((0, 0), (0, 3), (2.25, 3), (2.25, 2.45), (4.7, 0), align=None)
    revolve(axis=Axis((107.5, -107.5, 9.35), (0, 0, -1)), mode=Mode.SUBTRACT)

    # Mirror1 at the second plane copy 13 sket → Mirror1 at the second plane copy 13 (revolve, cut)
    with BuildSketch(Plane(origin=(107.5, -74.166666667, 3), x_dir=(0, 1, 0), z_dir=(-1, 0, 0))):
        Polygon((0, 0), (0, 3), (2.25, 3), (2.25, 2.45), (4.7, 0), align=None)
    revolve(axis=Axis((107.5, -74.166666667, 9.35), (0, 0, -1)), mode=Mode.SUBTRACT)

    # Mirror1 at the second plane copy 14 sket → Mirror1 at the second plane copy 14 (revolve, cut)
    with BuildSketch(Plane(origin=(107.5, -40.833333333, 3), x_dir=(0, 1, 0), z_dir=(-1, 0, 0))):
        Polygon((0, 0), (0, 3), (2.25, 3), (2.25, 2.45), (4.7, 0), align=None)
    revolve(axis=Axis((107.5, -40.833333333, 9.35), (0, 0, -1)), mode=Mode.SUBTRACT)

    # Mirror1 at the second plane copy 15 sket → Mirror1 at the second plane copy 15 (revolve, cut)
    with BuildSketch(Plane(origin=(107.5, -7.5, 3), x_dir=(0, 1, 0), z_dir=(-1, 0, 0))):
        Polygon((0, 0), (0, 3), (2.25, 3), (2.25, 2.45), (4.7, 0), align=None)
    revolve(axis=Axis((107.5, -7.5, 9.35), (0, 0, -1)), mode=Mode.SUBTRACT)

    # Mirror1 at the second plane copy 16 sket → Mirror1 at the second plane copy 16 (revolve, cut)
    with BuildSketch(Plane(origin=(74.166666667, -107.5, 3), x_dir=(0, 1, 0), z_dir=(-1, 0, 0))):
        Polygon((0, 0), (0, 3), (2.25, 3), (2.25, 2.45), (4.7, 0), align=None)
    revolve(axis=Axis((74.166666667, -107.5, 9.35), (0, 0, -1)), mode=Mode.SUBTRACT)

    # Mirror1 at the second plane copy 17 sket → Mirror1 at the second plane copy 17 (revolve, cut)
    with BuildSketch(Plane(origin=(74.166666667, -7.5, 3), x_dir=(0, 1, 0), z_dir=(-1, 0, 0))):
        Polygon((0, 0), (0, 3), (2.25, 3), (2.25, 2.45), (4.7, 0), align=None)
    revolve(axis=Axis((74.166666667, -7.5, 9.35), (0, 0, -1)), mode=Mode.SUBTRACT)

    # Mirror1 at the second plane copy 18 sket → Mirror1 at the second plane copy 18 (revolve, cut)
    with BuildSketch(Plane(origin=(40.833333333, -107.5, 3), x_dir=(0, 1, 0), z_dir=(-1, 0, 0))):
        Polygon((0, 0), (0, 3), (2.25, 3), (2.25, 2.45), (4.7, 0), align=None)
    revolve(axis=Axis((40.833333333, -107.5, 9.35), (0, 0, -1)), mode=Mode.SUBTRACT)

    # Mirror1 at the second plane copy 19 sket → Mirror1 at the second plane copy 19 (revolve, cut)
    with BuildSketch(Plane(origin=(40.833333333, -7.5, 3), x_dir=(0, 1, 0), z_dir=(-1, 0, 0))):
        Polygon((0, 0), (0, 3), (2.25, 3), (2.25, 2.45), (4.7, 0), align=None)
    revolve(axis=Axis((40.833333333, -7.5, 9.35), (0, 0, -1)), mode=Mode.SUBTRACT)

    # Mirror1 at the second plane copy 20 sket → Mirror1 at the second plane copy 20 (revolve, cut)
    with BuildSketch(Plane(origin=(7.5, -107.5, 3), x_dir=(0, 1, 0), z_dir=(-1, 0, 0))):
        Polygon((0, 0), (0, 3), (2.25, 3), (2.25, 2.45), (4.7, 0), align=None)
    revolve(axis=Axis((7.5, -107.5, 9.35), (0, 0, -1)), mode=Mode.SUBTRACT)

    # Mirror1 at the second plane copy 21 sket → Mirror1 at the second plane copy 21 (revolve, cut)
    with BuildSketch(Plane(origin=(7.5, -74.166666667, 3), x_dir=(0, 1, 0), z_dir=(-1, 0, 0))):
        Polygon((0, 0), (0, 3), (2.25, 3), (2.25, 2.45), (4.7, 0), align=None)
    revolve(axis=Axis((7.5, -74.166666667, 9.35), (0, 0, -1)), mode=Mode.SUBTRACT)

    # Mirror1 at the second plane copy 22 sket → Mirror1 at the second plane copy 22 (revolve, cut)
    with BuildSketch(Plane(origin=(7.5, -40.833333333, 3), x_dir=(0, 1, 0), z_dir=(-1, 0, 0))):
        Polygon((0, 0), (0, 3), (2.25, 3), (2.25, 2.45), (4.7, 0), align=None)
    revolve(axis=Axis((7.5, -40.833333333, 9.35), (0, 0, -1)), mode=Mode.SUBTRACT)

    # Mirror1 at the second plane copy 23 sket → Mirror1 at the second plane copy 23 (revolve, cut)
    with BuildSketch(Plane(origin=(7.5, -7.5, 3), x_dir=(0, 1, 0), z_dir=(-1, 0, 0))):
        Polygon((0, 0), (0, 3), (2.25, 3), (2.25, 2.45), (4.7, 0), align=None)
    revolve(axis=Axis((7.5, -7.5, 9.35), (0, 0, -1)), mode=Mode.SUBTRACT)

    # Sketch14 → Cut-Extrude3 (cut, up to next)
    with BuildSketch(Plane.XY.offset(3), mode=Mode.PRIVATE) as cut_extrude3_sk1:
        Rectangle(SKETCH14_W, SKETCH14_H)
    cut_extrude3_tool1 = extrude(cut_extrude3_sk1.sketch, amount=-CUT_EXTRUDE3_REACH, mode=Mode.PRIVATE) & part.part
    add(cut_extrude3_tool1.solids().sort_by_distance((0, 0, 3))[0], mode=Mode.SUBTRACT)

    # Sketch15 → Boss-Extrude2 (add)
    with BuildSketch(Plane.XY.offset(3)):
        Rectangle(SKETCH15_W, SKETCH15_H)
        Rectangle(SKETCH15_W_2, SKETCH15_H_2, mode=Mode.SUBTRACT)
    extrude(amount=-BOSS_EXTRUDE2_DEPTH)

    # Fillet2
    fillet2_edges = [part.edges().sort_by_distance(p)[0] for p in [
        (50.4, 50.4, -2),
        (50.4, -50.4, -2),
        (-50.4, -50.4, -2),
        (-50.4, 50.4, -2),
    ]]
    fillet(fillet2_edges, radius=FILLET2_R)

    # Sketch16 → Cut-Extrude4 (cut, up to next)
    with BuildSketch(Plane.XY.offset(3), mode=Mode.PRIVATE) as cut_extrude4_sk1:
        with Locations((91, 0)):
            Circle(SKETCH16_R)
    cut_extrude4_tool1 = extrude(cut_extrude4_sk1.sketch, amount=-CUT_EXTRUDE4_REACH, mode=Mode.PRIVATE) & part.part
    add(cut_extrude4_tool1.solids().sort_by_distance((91, 0, 3))[0], mode=Mode.SUBTRACT)


solid = part.part
